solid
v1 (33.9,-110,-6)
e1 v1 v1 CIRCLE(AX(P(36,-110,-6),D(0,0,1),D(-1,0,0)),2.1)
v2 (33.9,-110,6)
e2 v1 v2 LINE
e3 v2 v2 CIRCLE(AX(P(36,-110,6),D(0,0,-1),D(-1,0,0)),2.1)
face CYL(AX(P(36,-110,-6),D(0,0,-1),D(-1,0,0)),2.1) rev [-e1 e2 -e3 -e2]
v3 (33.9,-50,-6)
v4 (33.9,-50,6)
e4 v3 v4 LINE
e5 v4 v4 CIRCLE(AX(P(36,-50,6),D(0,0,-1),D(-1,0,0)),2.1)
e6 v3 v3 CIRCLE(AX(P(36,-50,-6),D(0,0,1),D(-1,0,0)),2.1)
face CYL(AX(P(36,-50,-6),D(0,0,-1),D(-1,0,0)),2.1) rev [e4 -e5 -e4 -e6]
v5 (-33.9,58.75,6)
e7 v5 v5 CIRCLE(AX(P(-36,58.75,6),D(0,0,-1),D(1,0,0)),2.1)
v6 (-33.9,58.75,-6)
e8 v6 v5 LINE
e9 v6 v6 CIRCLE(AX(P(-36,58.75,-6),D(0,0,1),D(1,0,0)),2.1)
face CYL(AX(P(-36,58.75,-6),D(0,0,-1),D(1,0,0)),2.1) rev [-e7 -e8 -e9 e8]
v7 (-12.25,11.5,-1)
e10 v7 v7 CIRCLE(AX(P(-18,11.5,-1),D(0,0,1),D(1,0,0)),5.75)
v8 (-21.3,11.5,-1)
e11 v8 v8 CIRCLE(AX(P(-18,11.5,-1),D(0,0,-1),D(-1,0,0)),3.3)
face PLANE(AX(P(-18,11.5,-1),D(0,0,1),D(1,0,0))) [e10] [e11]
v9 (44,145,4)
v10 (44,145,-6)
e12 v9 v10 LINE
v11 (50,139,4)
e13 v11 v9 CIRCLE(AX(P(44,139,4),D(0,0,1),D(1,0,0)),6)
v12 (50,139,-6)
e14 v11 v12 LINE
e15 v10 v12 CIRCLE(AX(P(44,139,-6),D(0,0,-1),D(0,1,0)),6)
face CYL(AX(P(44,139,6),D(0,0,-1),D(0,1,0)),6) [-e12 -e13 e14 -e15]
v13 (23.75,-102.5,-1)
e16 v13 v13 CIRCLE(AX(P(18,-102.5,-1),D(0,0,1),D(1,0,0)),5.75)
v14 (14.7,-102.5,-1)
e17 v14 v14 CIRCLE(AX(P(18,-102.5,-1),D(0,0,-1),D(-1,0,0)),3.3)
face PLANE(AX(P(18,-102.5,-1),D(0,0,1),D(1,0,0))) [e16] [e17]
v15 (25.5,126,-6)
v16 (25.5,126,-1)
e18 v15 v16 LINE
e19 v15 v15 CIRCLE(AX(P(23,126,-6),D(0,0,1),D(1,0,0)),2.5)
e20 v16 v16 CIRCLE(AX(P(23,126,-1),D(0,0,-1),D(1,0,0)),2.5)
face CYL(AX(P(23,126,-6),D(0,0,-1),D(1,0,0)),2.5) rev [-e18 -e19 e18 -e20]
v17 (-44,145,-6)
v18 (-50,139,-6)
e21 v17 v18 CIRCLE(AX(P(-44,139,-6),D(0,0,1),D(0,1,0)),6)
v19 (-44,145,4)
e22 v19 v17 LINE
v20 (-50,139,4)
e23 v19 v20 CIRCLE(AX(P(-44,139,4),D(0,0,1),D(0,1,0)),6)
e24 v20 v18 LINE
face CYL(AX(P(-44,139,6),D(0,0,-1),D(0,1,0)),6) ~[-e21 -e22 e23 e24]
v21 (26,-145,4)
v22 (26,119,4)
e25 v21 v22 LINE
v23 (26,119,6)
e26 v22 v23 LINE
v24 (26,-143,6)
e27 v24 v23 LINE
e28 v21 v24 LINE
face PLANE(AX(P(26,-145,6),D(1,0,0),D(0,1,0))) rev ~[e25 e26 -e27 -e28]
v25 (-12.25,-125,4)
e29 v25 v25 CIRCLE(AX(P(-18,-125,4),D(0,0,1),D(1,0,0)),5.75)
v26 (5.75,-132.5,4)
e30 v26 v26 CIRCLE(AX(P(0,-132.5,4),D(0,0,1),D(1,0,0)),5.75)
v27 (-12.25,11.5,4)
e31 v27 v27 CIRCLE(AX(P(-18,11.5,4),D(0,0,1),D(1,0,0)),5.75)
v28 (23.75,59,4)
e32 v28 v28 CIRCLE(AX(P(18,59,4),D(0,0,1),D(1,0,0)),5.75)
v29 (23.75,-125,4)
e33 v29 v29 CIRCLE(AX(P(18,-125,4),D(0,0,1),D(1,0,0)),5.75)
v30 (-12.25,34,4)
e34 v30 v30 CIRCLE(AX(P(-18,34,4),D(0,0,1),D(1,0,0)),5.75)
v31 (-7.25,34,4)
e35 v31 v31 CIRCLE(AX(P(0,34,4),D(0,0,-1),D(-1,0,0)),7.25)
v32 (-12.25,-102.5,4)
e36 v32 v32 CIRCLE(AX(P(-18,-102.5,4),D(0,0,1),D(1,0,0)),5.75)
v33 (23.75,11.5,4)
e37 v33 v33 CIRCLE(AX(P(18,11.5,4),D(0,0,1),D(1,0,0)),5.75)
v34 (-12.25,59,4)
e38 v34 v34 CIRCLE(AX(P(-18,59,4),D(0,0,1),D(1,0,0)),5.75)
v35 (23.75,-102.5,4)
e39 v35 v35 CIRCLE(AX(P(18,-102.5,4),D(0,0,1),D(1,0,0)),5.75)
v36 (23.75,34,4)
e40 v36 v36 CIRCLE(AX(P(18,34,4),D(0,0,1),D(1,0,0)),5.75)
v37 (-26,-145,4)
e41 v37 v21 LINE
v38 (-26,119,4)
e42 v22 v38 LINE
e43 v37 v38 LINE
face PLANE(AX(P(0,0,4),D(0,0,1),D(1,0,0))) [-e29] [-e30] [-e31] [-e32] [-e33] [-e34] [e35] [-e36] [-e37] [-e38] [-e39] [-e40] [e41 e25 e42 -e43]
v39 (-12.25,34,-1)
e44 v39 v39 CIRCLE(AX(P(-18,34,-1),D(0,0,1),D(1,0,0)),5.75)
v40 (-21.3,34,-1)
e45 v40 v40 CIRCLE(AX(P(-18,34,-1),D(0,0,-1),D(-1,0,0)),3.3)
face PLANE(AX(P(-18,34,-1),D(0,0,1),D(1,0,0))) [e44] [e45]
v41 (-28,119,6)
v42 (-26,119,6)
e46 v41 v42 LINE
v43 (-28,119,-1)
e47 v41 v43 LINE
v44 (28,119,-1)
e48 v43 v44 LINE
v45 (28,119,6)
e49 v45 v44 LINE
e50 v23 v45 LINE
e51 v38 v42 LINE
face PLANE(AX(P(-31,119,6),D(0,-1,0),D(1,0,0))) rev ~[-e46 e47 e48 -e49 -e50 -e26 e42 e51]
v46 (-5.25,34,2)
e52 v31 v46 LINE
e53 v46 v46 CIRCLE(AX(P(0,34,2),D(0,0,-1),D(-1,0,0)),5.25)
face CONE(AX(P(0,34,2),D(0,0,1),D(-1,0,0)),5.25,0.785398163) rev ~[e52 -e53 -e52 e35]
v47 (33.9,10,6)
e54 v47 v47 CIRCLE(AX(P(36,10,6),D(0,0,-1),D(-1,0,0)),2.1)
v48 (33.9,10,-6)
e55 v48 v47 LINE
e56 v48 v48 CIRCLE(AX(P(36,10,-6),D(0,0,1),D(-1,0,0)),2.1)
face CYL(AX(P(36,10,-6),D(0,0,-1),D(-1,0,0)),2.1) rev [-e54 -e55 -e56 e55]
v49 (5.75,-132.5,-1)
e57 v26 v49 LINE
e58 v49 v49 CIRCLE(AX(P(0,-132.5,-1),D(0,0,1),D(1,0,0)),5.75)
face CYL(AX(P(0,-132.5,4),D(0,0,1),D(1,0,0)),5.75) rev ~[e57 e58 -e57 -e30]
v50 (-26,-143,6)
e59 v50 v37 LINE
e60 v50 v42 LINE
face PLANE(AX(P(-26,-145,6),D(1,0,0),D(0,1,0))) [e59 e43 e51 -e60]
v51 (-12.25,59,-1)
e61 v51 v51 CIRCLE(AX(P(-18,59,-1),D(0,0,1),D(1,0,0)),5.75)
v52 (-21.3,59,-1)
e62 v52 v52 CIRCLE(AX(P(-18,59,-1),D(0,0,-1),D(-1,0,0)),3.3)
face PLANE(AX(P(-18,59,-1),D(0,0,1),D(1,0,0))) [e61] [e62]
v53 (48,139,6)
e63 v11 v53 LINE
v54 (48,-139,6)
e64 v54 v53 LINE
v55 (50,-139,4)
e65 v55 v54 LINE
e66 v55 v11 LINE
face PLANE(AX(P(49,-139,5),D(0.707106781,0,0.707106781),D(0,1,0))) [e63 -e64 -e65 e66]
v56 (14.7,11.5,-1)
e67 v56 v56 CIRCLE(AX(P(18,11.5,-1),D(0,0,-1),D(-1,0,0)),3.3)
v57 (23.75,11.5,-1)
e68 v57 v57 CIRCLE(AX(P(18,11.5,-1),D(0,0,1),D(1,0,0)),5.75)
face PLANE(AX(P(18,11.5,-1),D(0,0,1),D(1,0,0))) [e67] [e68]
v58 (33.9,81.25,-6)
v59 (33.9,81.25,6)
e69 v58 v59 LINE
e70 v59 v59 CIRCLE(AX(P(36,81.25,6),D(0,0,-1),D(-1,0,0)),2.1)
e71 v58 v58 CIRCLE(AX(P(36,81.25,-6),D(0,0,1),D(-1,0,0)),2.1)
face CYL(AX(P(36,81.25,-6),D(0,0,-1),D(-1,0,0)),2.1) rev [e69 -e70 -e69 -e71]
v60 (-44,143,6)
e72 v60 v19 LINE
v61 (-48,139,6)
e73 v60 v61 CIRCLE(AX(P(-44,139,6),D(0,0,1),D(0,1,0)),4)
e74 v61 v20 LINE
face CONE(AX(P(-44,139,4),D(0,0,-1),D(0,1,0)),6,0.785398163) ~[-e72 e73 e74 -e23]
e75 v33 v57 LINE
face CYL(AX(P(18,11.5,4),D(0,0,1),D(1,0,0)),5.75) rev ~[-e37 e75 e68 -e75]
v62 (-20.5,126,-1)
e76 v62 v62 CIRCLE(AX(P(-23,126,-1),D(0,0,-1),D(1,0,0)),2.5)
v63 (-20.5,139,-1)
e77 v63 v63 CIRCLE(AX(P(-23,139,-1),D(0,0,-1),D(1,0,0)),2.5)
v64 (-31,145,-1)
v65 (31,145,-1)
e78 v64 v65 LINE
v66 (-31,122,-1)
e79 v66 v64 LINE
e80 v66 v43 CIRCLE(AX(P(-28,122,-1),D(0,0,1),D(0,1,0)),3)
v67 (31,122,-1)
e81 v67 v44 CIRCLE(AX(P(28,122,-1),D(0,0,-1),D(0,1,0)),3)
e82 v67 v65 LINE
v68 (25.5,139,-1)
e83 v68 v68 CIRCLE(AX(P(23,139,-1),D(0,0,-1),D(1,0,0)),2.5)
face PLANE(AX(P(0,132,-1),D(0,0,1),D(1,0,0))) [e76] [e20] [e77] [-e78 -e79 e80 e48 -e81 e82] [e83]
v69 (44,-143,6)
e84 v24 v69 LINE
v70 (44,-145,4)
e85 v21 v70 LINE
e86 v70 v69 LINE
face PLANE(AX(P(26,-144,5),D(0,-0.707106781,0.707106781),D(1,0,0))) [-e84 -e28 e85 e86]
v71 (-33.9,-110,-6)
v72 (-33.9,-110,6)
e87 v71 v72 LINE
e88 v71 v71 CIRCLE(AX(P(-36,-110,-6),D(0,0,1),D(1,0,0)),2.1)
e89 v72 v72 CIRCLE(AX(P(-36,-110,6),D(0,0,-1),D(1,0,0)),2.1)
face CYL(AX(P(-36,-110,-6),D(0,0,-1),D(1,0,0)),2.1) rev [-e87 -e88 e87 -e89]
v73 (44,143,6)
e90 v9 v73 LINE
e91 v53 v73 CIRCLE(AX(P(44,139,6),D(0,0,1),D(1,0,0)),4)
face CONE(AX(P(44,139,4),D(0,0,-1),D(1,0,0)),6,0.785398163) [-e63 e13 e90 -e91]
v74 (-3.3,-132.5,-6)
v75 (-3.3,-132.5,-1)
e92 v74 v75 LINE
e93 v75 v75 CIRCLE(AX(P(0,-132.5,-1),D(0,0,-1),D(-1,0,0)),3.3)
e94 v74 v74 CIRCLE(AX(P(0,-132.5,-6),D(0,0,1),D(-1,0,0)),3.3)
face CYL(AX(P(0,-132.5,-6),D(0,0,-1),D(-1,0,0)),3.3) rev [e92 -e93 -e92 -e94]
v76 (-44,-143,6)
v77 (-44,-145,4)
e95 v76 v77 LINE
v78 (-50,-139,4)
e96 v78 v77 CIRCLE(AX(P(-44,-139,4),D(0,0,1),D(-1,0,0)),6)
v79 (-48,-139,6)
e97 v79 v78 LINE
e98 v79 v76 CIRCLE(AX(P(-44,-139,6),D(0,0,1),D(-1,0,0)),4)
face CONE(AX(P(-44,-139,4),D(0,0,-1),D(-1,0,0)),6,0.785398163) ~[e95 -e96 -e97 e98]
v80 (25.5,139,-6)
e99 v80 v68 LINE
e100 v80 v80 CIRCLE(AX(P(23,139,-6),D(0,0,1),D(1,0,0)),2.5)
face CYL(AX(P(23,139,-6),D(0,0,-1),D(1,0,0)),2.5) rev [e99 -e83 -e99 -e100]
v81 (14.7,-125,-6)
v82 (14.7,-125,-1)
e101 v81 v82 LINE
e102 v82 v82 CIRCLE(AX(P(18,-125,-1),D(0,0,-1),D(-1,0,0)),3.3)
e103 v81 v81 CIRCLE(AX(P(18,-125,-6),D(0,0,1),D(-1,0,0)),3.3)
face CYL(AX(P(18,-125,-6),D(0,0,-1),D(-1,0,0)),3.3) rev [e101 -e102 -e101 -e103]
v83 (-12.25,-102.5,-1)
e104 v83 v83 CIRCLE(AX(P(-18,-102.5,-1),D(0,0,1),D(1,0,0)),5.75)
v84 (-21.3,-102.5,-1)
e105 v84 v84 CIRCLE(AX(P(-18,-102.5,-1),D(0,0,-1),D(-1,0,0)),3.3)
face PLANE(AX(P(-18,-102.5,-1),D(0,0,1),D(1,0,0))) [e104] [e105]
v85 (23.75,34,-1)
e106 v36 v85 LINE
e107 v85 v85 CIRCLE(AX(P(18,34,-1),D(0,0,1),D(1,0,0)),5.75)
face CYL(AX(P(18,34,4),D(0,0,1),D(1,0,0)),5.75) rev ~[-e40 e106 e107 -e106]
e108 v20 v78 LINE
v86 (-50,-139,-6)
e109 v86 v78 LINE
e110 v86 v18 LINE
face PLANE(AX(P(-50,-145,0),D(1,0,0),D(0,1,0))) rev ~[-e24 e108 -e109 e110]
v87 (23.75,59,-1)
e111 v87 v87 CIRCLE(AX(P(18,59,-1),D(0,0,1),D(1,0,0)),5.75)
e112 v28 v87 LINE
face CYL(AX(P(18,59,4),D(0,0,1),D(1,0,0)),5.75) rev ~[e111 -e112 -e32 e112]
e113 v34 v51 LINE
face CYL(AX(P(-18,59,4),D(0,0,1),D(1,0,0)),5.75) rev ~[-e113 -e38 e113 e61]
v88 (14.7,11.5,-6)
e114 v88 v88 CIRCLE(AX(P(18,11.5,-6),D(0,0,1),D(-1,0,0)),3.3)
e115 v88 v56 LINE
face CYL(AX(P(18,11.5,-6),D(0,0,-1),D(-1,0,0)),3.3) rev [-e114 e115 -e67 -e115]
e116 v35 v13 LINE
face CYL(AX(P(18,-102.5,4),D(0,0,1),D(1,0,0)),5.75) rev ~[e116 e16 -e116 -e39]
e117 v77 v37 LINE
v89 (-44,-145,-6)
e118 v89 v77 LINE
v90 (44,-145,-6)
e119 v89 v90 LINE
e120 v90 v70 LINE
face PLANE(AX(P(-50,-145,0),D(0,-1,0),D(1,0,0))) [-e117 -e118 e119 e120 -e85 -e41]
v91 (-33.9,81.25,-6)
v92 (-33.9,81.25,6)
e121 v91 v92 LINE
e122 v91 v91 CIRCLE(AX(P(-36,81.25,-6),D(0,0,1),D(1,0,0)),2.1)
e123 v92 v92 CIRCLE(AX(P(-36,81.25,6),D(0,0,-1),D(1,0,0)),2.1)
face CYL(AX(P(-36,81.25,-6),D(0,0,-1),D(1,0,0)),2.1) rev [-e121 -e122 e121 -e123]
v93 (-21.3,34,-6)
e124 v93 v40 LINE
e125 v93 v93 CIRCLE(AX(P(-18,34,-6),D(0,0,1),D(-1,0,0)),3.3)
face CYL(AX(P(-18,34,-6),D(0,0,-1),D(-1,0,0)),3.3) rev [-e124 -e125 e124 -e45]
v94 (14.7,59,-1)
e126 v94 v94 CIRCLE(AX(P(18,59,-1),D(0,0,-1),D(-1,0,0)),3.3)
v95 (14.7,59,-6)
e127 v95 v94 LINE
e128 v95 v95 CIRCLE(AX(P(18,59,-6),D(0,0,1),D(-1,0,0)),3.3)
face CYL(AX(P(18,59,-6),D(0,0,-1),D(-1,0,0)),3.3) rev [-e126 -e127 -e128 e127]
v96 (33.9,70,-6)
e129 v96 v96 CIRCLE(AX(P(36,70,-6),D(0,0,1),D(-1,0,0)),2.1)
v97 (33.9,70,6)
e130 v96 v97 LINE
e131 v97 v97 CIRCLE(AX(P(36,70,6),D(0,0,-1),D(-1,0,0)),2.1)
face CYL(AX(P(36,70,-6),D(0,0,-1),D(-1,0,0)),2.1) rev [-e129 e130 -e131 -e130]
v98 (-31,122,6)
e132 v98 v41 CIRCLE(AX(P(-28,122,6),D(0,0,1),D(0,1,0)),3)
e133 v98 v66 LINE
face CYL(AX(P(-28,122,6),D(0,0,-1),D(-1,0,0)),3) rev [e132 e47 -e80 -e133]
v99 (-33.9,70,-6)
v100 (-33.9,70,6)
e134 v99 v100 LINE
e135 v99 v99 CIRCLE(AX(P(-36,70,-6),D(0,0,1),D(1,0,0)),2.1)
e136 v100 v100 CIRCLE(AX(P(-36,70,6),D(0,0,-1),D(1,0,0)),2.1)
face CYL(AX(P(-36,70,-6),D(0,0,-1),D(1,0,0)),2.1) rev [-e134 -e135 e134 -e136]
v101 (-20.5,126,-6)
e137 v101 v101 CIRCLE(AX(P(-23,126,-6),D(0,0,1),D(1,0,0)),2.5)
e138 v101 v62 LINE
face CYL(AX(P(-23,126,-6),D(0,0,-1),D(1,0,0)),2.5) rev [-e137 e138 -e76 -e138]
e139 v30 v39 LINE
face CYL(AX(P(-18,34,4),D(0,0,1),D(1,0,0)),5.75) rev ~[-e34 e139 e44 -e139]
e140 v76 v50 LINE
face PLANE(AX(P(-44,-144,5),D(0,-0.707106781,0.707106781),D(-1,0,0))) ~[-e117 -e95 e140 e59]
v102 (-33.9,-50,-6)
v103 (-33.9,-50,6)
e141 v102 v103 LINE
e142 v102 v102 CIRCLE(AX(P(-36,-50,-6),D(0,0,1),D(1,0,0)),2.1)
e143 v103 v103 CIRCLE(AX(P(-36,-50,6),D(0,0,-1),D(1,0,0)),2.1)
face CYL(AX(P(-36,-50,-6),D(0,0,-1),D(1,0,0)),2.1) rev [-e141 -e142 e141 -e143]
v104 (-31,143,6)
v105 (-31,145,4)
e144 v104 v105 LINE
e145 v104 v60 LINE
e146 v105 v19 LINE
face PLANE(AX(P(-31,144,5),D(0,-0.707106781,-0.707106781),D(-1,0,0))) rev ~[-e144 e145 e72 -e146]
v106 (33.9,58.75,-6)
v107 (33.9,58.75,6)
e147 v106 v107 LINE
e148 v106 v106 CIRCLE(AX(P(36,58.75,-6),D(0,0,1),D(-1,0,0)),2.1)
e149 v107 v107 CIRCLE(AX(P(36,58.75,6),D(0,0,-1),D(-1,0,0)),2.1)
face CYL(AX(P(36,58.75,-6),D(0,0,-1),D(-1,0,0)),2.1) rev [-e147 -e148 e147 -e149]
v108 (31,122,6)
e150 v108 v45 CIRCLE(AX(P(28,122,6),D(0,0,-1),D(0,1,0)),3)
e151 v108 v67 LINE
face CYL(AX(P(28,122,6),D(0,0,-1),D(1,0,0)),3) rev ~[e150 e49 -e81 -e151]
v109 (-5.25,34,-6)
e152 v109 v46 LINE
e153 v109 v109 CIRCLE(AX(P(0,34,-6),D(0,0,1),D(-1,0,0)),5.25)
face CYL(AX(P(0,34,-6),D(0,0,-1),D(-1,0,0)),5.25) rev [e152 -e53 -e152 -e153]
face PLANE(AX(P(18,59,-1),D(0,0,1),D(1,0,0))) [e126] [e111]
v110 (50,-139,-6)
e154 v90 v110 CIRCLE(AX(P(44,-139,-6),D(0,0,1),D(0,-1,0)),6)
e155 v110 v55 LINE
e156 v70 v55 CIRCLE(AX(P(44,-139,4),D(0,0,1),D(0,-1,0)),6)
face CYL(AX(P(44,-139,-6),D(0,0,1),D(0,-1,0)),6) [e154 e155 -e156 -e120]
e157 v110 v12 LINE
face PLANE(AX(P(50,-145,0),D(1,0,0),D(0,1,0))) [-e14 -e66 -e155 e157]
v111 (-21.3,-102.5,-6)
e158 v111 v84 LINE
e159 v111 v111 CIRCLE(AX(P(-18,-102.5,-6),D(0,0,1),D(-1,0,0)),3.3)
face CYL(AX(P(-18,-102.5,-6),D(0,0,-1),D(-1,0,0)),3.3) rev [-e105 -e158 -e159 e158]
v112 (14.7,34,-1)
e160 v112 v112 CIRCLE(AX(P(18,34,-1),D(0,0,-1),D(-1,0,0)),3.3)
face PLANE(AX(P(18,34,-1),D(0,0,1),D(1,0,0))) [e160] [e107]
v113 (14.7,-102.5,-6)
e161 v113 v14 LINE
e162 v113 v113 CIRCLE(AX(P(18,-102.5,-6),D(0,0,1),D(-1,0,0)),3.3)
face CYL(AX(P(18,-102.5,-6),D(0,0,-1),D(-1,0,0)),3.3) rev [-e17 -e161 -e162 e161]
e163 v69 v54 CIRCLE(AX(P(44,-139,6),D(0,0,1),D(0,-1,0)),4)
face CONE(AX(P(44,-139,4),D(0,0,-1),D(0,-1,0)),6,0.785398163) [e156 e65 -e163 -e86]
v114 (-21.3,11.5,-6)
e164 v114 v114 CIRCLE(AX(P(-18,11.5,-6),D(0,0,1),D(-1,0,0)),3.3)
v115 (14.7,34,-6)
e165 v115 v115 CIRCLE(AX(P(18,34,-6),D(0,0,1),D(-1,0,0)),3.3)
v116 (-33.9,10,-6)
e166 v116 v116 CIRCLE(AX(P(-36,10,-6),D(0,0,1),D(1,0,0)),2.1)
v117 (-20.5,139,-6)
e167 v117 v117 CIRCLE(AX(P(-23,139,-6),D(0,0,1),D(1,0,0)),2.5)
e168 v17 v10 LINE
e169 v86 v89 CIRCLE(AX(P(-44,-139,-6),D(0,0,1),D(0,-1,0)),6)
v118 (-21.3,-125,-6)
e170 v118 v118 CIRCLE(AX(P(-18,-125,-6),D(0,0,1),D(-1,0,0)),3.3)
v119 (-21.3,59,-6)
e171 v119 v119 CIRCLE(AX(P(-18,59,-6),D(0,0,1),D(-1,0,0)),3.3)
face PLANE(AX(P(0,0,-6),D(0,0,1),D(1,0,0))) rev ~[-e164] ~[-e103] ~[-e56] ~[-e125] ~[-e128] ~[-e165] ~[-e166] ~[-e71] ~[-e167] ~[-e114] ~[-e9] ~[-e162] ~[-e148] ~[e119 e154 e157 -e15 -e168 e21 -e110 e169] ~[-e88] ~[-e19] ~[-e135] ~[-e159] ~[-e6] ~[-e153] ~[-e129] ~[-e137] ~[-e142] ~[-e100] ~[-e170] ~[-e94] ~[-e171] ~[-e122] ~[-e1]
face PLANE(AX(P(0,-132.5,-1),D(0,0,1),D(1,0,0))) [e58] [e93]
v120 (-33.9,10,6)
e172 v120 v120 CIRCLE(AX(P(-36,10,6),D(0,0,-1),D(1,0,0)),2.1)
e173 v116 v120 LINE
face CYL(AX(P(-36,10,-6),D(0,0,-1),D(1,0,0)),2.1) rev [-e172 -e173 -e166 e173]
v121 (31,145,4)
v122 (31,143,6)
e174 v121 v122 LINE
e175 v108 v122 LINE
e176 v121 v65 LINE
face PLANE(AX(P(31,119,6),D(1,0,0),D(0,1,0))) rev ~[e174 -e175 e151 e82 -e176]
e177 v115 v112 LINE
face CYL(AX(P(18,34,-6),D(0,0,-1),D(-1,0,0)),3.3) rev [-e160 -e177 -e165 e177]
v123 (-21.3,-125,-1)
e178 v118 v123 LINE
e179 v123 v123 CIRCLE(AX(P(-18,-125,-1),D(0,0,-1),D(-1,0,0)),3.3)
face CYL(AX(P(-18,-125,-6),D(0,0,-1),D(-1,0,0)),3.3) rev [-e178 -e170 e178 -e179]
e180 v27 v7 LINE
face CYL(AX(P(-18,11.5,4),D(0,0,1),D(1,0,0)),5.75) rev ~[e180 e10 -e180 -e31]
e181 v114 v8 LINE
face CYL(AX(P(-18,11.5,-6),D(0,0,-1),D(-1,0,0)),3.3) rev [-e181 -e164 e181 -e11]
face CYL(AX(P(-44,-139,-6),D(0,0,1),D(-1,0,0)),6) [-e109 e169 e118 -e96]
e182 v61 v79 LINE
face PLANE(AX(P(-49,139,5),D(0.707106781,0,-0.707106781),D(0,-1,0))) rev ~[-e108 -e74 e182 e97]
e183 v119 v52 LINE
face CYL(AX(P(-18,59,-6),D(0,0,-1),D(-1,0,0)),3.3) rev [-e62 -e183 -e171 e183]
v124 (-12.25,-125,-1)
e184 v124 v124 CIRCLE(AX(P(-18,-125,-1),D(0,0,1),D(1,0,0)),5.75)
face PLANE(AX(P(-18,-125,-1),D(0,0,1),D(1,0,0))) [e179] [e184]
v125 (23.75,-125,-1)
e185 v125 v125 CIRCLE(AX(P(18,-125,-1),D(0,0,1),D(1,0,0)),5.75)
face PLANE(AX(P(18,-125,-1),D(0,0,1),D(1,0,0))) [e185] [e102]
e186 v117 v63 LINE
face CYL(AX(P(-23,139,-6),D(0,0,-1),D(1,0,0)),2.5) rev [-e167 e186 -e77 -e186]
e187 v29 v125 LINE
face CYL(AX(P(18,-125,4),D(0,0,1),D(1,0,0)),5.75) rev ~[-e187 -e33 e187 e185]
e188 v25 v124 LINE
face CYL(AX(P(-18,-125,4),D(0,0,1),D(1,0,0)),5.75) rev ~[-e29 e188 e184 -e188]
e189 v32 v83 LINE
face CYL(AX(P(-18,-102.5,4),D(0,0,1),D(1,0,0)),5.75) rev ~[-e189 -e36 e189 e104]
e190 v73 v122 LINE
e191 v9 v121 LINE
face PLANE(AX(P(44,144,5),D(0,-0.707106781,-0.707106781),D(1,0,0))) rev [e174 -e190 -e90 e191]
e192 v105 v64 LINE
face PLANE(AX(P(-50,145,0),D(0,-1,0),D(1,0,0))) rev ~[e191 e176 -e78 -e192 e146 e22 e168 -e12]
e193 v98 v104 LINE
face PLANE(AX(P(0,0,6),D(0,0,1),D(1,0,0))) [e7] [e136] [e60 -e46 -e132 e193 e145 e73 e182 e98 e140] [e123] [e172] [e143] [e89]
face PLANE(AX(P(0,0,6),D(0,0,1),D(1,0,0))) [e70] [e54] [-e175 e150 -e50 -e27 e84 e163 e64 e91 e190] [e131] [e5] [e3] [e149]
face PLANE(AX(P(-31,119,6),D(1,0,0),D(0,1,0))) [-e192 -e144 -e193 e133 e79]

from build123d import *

# Parameters (mm, degrees)
SKETCH1_W           = 100
SKETCH1_H           = 290
BOSS_EXTRUDE1_DEPTH = 6
SKETCH2_W           = 62
SKETCH2_H           = 26
CUT_EXTRUDE1_DEPTH  = 7
SKETCH3_W           = 52
SKETCH3_H           = 290
CUT_EXTRUDE2_DEPTH  = 2
SKETCH4_R           = 2.5
SKETCH4_R_2         = 5.25
SKETCH4_R_3         = 3.3
SKETCH4_R_4         = 2.1
CUT_EXTRUDE4_DEPTH  = 21
FILLET1_R           = 3
FILLET2_R           = 6
CHAMFER1_SIZE       = 2
SKETCH5_R           = 5.75
CUT_EXTRUDE5_DEPTH  = 5
CHAMFER2_SIZE       = 2


with BuildPart() as part:
    # Sketch1 → Boss-Extrude1 (new, symmetric)
    with BuildSketch(Plane.XY):
        Rectangle(SKETCH1_W, SKETCH1_H)
    extrude(amount=BOSS_EXTRUDE1_DEPTH, both=True)

    # Sketch2 → Cut-Extrude1 (cut)
    with BuildSketch(Plane.XY.offset(6)):
        with Locations((0, 132)):
            Rectangle(SKETCH2_W, SKETCH2_H)
    extrude(amount=-CUT_EXTRUDE1_DEPTH, mode=Mode.SUBTRACT)

    # Sketch3 → Cut-Extrude2 (cut)
    with BuildSketch(Plane.XY.offset(6)):
        Rectangle(SKETCH3_W, SKETCH3_H)
    extrude(amount=-CUT_EXTRUDE2_DEPTH, mode=Mode.SUBTRACT)

    # Sketch4 → Cut-Extrude4 (cut)
    with BuildSketch(Plane.XY.offset(-6)):
        with Locations((-23, 139)):
            Circle(SKETCH4_R)
        with Locations((23, 139)):
            Circle(SKETCH4_R)
        with Locations((23, 126)):
            Circle(SKETCH4_R)
        with Locations((-23, 126)):
            Circle(SKETCH4_R)
        with Locations(Location((0, 34, 0), (0, 0, 180))):
            Circle(SKETCH4_R_2)
        with Locations(Location((-18, 59, 0), (0, 0, 180))):
            Circle(SKETCH4_R_3)
        with Locations(Location((-18, 34, 0), (0, 0, 180))):
            Circle(SKETCH4_R_3)
        with Locations(Location((-18, 11.5, 0), (0, 0, 180))):
            Circle(SKETCH4_R_3)
        with Locations((-36, 81.25)):
            Circle(SKETCH4_R_4)
        with Locations((-36, 70)):
            Circle(SKETCH4_R_4)
        with Locations((-36, 58.75)):
            Circle(SKETCH4_R_4)
        with Locations((-36, 10)):
            Circle(SKETCH4_R_4)
        with Locations((-36, -110)):
            Circle(SKETCH4_R_4)
        with Locations((-36, -50)):
            Circle(SKETCH4_R_4)
        with Locations(Location((-18, -102.5, 0), (0, 0, 180))):
            Circle(SKETCH4_R_3)
        with Locations(Location((-18, -125, 0), (0, 0, 180))):
            Circle(SKETCH4_R_3)
        with Locations(Location((18, -102.5, 0), (0, 0, 180))):
            Circle(SKETCH4_R_3)
        with Locations(Location((18, -125, 0), (0, 0, 180))):
            Circle(SKETCH4_R_3)
        with Locations(Location((0, -132.5, 0), (0, 0, 180))):
            Circle(SKETCH4_R_3)
        with Locations(Location((36, 81.25, 0), (0, 0, 180))):
            Circle(SKETCH4_R_4)
        with Locations(Location((36, 70, 0), (0, 0, 180))):
            Circle(SKETCH4_R_4)
        with Locations(Location((36, 58.75, 0), (0, 0, 180))):
            Circle(SKETCH4_R_4)
        with Locations(Location((18, 59, 0), (0, 0, 180))):
            Circle(SKETCH4_R_3)
        with Locations(Location((18, 11.5, 0), (0, 0, 180))):
            Circle(SKETCH4_R_3)
        with Locations(Location((18, 34, 0), (0, 0, 180))):
            Circle(SKETCH4_R_3)
        with Locations(Location((36, 10, 0), (0, 0, 180))):
            Circle(SKETCH4_R_4)
        with Locations(Location((36, -50, 0), (0, 0, 180))):
            Circle(SKETCH4_R_4)
        with Locations(Location((36, -110, 0), (0, 0, 180))):
            Circle(SKETCH4_R_4)
    extrude(amount=CUT_EXTRUDE4_DEPTH, mode=Mode.SUBTRACT)

    # Fillet1
    fillet1_edges = [part.edges().sort_by_distance(p)[0] for p in [
        (-31, 119, 2.5),
        (31, 119, 2.5),
    ]]
    fillet(fillet1_edges, radius=FILLET1_R)

    # Fillet2
    fillet2_edges = [part.edges().sort_by_distance(p)[0] for p in [
        (-50, 145, 0),
        (50, 145, 0),
        (50, -145, 0),
        (-50, -145, 0),
    ]]
    fillet(fillet2_edges, radius=FILLET2_R)

    # Chamfer1
    chamfer1_edges = [part.edges().sort_by_distance(p)[0] for p in [
        (35, -145, 6),
        (48.242640687, -143.242640687, 6),
        (50, 0, 6),
        (48.242640687, 143.242640687, 6),
        (37.5, 145, 6),
        (-35, -145, 6),
        (-48.242640687, -143.242640687, 6),
        (-50, 0, 6),
        (-48.242640687, 143.242640687, 6),
        (-37.5, 145, 6),
    ]]
    chamfer(chamfer1_edges, length=CHAMFER1_SIZE)

    # Sketch5 → Cut-Extrude5 (cut)
    with BuildSketch(Plane.XY.offset(4)):
        with Locations((-18, 59)):
            Circle(SKETCH5_R)
        with Locations((-18, 34)):
            Circle(SKETCH5_R)
        with Locations((-18, 11.5)):
            Circle(SKETCH5_R)
        with Locations((18, 11.5)):
            Circle(SKETCH5_R)
        with Locations((18, 34)):
            Circle(SKETCH5_R)
        with Locations((18, 59)):
            Circle(SKETCH5_R)
        with Locations((18, -102.5)):
            Circle(SKETCH5_R)
        with Locations((-18, -102.5)):
            Circle(SKETCH5_R)
        with Locations((-18, -125)):
            Circle(SKETCH5_R)
        with Locations((0, -132.5)):
            Circle(SKETCH5_R)
        with Locations((18, -125)):
            Circle(SKETCH5_R)
    extrude(amount=-CUT_EXTRUDE5_DEPTH, mode=Mode.SUBTRACT)

    # Chamfer2
    chamfer2_edges = [part.edges().sort_by_distance(p)[0] for p in [
        (5.25, 34, 4),
    ]]
    chamfer(chamfer2_edges, length=CHAMFER2_SIZE)


solid = part.part
